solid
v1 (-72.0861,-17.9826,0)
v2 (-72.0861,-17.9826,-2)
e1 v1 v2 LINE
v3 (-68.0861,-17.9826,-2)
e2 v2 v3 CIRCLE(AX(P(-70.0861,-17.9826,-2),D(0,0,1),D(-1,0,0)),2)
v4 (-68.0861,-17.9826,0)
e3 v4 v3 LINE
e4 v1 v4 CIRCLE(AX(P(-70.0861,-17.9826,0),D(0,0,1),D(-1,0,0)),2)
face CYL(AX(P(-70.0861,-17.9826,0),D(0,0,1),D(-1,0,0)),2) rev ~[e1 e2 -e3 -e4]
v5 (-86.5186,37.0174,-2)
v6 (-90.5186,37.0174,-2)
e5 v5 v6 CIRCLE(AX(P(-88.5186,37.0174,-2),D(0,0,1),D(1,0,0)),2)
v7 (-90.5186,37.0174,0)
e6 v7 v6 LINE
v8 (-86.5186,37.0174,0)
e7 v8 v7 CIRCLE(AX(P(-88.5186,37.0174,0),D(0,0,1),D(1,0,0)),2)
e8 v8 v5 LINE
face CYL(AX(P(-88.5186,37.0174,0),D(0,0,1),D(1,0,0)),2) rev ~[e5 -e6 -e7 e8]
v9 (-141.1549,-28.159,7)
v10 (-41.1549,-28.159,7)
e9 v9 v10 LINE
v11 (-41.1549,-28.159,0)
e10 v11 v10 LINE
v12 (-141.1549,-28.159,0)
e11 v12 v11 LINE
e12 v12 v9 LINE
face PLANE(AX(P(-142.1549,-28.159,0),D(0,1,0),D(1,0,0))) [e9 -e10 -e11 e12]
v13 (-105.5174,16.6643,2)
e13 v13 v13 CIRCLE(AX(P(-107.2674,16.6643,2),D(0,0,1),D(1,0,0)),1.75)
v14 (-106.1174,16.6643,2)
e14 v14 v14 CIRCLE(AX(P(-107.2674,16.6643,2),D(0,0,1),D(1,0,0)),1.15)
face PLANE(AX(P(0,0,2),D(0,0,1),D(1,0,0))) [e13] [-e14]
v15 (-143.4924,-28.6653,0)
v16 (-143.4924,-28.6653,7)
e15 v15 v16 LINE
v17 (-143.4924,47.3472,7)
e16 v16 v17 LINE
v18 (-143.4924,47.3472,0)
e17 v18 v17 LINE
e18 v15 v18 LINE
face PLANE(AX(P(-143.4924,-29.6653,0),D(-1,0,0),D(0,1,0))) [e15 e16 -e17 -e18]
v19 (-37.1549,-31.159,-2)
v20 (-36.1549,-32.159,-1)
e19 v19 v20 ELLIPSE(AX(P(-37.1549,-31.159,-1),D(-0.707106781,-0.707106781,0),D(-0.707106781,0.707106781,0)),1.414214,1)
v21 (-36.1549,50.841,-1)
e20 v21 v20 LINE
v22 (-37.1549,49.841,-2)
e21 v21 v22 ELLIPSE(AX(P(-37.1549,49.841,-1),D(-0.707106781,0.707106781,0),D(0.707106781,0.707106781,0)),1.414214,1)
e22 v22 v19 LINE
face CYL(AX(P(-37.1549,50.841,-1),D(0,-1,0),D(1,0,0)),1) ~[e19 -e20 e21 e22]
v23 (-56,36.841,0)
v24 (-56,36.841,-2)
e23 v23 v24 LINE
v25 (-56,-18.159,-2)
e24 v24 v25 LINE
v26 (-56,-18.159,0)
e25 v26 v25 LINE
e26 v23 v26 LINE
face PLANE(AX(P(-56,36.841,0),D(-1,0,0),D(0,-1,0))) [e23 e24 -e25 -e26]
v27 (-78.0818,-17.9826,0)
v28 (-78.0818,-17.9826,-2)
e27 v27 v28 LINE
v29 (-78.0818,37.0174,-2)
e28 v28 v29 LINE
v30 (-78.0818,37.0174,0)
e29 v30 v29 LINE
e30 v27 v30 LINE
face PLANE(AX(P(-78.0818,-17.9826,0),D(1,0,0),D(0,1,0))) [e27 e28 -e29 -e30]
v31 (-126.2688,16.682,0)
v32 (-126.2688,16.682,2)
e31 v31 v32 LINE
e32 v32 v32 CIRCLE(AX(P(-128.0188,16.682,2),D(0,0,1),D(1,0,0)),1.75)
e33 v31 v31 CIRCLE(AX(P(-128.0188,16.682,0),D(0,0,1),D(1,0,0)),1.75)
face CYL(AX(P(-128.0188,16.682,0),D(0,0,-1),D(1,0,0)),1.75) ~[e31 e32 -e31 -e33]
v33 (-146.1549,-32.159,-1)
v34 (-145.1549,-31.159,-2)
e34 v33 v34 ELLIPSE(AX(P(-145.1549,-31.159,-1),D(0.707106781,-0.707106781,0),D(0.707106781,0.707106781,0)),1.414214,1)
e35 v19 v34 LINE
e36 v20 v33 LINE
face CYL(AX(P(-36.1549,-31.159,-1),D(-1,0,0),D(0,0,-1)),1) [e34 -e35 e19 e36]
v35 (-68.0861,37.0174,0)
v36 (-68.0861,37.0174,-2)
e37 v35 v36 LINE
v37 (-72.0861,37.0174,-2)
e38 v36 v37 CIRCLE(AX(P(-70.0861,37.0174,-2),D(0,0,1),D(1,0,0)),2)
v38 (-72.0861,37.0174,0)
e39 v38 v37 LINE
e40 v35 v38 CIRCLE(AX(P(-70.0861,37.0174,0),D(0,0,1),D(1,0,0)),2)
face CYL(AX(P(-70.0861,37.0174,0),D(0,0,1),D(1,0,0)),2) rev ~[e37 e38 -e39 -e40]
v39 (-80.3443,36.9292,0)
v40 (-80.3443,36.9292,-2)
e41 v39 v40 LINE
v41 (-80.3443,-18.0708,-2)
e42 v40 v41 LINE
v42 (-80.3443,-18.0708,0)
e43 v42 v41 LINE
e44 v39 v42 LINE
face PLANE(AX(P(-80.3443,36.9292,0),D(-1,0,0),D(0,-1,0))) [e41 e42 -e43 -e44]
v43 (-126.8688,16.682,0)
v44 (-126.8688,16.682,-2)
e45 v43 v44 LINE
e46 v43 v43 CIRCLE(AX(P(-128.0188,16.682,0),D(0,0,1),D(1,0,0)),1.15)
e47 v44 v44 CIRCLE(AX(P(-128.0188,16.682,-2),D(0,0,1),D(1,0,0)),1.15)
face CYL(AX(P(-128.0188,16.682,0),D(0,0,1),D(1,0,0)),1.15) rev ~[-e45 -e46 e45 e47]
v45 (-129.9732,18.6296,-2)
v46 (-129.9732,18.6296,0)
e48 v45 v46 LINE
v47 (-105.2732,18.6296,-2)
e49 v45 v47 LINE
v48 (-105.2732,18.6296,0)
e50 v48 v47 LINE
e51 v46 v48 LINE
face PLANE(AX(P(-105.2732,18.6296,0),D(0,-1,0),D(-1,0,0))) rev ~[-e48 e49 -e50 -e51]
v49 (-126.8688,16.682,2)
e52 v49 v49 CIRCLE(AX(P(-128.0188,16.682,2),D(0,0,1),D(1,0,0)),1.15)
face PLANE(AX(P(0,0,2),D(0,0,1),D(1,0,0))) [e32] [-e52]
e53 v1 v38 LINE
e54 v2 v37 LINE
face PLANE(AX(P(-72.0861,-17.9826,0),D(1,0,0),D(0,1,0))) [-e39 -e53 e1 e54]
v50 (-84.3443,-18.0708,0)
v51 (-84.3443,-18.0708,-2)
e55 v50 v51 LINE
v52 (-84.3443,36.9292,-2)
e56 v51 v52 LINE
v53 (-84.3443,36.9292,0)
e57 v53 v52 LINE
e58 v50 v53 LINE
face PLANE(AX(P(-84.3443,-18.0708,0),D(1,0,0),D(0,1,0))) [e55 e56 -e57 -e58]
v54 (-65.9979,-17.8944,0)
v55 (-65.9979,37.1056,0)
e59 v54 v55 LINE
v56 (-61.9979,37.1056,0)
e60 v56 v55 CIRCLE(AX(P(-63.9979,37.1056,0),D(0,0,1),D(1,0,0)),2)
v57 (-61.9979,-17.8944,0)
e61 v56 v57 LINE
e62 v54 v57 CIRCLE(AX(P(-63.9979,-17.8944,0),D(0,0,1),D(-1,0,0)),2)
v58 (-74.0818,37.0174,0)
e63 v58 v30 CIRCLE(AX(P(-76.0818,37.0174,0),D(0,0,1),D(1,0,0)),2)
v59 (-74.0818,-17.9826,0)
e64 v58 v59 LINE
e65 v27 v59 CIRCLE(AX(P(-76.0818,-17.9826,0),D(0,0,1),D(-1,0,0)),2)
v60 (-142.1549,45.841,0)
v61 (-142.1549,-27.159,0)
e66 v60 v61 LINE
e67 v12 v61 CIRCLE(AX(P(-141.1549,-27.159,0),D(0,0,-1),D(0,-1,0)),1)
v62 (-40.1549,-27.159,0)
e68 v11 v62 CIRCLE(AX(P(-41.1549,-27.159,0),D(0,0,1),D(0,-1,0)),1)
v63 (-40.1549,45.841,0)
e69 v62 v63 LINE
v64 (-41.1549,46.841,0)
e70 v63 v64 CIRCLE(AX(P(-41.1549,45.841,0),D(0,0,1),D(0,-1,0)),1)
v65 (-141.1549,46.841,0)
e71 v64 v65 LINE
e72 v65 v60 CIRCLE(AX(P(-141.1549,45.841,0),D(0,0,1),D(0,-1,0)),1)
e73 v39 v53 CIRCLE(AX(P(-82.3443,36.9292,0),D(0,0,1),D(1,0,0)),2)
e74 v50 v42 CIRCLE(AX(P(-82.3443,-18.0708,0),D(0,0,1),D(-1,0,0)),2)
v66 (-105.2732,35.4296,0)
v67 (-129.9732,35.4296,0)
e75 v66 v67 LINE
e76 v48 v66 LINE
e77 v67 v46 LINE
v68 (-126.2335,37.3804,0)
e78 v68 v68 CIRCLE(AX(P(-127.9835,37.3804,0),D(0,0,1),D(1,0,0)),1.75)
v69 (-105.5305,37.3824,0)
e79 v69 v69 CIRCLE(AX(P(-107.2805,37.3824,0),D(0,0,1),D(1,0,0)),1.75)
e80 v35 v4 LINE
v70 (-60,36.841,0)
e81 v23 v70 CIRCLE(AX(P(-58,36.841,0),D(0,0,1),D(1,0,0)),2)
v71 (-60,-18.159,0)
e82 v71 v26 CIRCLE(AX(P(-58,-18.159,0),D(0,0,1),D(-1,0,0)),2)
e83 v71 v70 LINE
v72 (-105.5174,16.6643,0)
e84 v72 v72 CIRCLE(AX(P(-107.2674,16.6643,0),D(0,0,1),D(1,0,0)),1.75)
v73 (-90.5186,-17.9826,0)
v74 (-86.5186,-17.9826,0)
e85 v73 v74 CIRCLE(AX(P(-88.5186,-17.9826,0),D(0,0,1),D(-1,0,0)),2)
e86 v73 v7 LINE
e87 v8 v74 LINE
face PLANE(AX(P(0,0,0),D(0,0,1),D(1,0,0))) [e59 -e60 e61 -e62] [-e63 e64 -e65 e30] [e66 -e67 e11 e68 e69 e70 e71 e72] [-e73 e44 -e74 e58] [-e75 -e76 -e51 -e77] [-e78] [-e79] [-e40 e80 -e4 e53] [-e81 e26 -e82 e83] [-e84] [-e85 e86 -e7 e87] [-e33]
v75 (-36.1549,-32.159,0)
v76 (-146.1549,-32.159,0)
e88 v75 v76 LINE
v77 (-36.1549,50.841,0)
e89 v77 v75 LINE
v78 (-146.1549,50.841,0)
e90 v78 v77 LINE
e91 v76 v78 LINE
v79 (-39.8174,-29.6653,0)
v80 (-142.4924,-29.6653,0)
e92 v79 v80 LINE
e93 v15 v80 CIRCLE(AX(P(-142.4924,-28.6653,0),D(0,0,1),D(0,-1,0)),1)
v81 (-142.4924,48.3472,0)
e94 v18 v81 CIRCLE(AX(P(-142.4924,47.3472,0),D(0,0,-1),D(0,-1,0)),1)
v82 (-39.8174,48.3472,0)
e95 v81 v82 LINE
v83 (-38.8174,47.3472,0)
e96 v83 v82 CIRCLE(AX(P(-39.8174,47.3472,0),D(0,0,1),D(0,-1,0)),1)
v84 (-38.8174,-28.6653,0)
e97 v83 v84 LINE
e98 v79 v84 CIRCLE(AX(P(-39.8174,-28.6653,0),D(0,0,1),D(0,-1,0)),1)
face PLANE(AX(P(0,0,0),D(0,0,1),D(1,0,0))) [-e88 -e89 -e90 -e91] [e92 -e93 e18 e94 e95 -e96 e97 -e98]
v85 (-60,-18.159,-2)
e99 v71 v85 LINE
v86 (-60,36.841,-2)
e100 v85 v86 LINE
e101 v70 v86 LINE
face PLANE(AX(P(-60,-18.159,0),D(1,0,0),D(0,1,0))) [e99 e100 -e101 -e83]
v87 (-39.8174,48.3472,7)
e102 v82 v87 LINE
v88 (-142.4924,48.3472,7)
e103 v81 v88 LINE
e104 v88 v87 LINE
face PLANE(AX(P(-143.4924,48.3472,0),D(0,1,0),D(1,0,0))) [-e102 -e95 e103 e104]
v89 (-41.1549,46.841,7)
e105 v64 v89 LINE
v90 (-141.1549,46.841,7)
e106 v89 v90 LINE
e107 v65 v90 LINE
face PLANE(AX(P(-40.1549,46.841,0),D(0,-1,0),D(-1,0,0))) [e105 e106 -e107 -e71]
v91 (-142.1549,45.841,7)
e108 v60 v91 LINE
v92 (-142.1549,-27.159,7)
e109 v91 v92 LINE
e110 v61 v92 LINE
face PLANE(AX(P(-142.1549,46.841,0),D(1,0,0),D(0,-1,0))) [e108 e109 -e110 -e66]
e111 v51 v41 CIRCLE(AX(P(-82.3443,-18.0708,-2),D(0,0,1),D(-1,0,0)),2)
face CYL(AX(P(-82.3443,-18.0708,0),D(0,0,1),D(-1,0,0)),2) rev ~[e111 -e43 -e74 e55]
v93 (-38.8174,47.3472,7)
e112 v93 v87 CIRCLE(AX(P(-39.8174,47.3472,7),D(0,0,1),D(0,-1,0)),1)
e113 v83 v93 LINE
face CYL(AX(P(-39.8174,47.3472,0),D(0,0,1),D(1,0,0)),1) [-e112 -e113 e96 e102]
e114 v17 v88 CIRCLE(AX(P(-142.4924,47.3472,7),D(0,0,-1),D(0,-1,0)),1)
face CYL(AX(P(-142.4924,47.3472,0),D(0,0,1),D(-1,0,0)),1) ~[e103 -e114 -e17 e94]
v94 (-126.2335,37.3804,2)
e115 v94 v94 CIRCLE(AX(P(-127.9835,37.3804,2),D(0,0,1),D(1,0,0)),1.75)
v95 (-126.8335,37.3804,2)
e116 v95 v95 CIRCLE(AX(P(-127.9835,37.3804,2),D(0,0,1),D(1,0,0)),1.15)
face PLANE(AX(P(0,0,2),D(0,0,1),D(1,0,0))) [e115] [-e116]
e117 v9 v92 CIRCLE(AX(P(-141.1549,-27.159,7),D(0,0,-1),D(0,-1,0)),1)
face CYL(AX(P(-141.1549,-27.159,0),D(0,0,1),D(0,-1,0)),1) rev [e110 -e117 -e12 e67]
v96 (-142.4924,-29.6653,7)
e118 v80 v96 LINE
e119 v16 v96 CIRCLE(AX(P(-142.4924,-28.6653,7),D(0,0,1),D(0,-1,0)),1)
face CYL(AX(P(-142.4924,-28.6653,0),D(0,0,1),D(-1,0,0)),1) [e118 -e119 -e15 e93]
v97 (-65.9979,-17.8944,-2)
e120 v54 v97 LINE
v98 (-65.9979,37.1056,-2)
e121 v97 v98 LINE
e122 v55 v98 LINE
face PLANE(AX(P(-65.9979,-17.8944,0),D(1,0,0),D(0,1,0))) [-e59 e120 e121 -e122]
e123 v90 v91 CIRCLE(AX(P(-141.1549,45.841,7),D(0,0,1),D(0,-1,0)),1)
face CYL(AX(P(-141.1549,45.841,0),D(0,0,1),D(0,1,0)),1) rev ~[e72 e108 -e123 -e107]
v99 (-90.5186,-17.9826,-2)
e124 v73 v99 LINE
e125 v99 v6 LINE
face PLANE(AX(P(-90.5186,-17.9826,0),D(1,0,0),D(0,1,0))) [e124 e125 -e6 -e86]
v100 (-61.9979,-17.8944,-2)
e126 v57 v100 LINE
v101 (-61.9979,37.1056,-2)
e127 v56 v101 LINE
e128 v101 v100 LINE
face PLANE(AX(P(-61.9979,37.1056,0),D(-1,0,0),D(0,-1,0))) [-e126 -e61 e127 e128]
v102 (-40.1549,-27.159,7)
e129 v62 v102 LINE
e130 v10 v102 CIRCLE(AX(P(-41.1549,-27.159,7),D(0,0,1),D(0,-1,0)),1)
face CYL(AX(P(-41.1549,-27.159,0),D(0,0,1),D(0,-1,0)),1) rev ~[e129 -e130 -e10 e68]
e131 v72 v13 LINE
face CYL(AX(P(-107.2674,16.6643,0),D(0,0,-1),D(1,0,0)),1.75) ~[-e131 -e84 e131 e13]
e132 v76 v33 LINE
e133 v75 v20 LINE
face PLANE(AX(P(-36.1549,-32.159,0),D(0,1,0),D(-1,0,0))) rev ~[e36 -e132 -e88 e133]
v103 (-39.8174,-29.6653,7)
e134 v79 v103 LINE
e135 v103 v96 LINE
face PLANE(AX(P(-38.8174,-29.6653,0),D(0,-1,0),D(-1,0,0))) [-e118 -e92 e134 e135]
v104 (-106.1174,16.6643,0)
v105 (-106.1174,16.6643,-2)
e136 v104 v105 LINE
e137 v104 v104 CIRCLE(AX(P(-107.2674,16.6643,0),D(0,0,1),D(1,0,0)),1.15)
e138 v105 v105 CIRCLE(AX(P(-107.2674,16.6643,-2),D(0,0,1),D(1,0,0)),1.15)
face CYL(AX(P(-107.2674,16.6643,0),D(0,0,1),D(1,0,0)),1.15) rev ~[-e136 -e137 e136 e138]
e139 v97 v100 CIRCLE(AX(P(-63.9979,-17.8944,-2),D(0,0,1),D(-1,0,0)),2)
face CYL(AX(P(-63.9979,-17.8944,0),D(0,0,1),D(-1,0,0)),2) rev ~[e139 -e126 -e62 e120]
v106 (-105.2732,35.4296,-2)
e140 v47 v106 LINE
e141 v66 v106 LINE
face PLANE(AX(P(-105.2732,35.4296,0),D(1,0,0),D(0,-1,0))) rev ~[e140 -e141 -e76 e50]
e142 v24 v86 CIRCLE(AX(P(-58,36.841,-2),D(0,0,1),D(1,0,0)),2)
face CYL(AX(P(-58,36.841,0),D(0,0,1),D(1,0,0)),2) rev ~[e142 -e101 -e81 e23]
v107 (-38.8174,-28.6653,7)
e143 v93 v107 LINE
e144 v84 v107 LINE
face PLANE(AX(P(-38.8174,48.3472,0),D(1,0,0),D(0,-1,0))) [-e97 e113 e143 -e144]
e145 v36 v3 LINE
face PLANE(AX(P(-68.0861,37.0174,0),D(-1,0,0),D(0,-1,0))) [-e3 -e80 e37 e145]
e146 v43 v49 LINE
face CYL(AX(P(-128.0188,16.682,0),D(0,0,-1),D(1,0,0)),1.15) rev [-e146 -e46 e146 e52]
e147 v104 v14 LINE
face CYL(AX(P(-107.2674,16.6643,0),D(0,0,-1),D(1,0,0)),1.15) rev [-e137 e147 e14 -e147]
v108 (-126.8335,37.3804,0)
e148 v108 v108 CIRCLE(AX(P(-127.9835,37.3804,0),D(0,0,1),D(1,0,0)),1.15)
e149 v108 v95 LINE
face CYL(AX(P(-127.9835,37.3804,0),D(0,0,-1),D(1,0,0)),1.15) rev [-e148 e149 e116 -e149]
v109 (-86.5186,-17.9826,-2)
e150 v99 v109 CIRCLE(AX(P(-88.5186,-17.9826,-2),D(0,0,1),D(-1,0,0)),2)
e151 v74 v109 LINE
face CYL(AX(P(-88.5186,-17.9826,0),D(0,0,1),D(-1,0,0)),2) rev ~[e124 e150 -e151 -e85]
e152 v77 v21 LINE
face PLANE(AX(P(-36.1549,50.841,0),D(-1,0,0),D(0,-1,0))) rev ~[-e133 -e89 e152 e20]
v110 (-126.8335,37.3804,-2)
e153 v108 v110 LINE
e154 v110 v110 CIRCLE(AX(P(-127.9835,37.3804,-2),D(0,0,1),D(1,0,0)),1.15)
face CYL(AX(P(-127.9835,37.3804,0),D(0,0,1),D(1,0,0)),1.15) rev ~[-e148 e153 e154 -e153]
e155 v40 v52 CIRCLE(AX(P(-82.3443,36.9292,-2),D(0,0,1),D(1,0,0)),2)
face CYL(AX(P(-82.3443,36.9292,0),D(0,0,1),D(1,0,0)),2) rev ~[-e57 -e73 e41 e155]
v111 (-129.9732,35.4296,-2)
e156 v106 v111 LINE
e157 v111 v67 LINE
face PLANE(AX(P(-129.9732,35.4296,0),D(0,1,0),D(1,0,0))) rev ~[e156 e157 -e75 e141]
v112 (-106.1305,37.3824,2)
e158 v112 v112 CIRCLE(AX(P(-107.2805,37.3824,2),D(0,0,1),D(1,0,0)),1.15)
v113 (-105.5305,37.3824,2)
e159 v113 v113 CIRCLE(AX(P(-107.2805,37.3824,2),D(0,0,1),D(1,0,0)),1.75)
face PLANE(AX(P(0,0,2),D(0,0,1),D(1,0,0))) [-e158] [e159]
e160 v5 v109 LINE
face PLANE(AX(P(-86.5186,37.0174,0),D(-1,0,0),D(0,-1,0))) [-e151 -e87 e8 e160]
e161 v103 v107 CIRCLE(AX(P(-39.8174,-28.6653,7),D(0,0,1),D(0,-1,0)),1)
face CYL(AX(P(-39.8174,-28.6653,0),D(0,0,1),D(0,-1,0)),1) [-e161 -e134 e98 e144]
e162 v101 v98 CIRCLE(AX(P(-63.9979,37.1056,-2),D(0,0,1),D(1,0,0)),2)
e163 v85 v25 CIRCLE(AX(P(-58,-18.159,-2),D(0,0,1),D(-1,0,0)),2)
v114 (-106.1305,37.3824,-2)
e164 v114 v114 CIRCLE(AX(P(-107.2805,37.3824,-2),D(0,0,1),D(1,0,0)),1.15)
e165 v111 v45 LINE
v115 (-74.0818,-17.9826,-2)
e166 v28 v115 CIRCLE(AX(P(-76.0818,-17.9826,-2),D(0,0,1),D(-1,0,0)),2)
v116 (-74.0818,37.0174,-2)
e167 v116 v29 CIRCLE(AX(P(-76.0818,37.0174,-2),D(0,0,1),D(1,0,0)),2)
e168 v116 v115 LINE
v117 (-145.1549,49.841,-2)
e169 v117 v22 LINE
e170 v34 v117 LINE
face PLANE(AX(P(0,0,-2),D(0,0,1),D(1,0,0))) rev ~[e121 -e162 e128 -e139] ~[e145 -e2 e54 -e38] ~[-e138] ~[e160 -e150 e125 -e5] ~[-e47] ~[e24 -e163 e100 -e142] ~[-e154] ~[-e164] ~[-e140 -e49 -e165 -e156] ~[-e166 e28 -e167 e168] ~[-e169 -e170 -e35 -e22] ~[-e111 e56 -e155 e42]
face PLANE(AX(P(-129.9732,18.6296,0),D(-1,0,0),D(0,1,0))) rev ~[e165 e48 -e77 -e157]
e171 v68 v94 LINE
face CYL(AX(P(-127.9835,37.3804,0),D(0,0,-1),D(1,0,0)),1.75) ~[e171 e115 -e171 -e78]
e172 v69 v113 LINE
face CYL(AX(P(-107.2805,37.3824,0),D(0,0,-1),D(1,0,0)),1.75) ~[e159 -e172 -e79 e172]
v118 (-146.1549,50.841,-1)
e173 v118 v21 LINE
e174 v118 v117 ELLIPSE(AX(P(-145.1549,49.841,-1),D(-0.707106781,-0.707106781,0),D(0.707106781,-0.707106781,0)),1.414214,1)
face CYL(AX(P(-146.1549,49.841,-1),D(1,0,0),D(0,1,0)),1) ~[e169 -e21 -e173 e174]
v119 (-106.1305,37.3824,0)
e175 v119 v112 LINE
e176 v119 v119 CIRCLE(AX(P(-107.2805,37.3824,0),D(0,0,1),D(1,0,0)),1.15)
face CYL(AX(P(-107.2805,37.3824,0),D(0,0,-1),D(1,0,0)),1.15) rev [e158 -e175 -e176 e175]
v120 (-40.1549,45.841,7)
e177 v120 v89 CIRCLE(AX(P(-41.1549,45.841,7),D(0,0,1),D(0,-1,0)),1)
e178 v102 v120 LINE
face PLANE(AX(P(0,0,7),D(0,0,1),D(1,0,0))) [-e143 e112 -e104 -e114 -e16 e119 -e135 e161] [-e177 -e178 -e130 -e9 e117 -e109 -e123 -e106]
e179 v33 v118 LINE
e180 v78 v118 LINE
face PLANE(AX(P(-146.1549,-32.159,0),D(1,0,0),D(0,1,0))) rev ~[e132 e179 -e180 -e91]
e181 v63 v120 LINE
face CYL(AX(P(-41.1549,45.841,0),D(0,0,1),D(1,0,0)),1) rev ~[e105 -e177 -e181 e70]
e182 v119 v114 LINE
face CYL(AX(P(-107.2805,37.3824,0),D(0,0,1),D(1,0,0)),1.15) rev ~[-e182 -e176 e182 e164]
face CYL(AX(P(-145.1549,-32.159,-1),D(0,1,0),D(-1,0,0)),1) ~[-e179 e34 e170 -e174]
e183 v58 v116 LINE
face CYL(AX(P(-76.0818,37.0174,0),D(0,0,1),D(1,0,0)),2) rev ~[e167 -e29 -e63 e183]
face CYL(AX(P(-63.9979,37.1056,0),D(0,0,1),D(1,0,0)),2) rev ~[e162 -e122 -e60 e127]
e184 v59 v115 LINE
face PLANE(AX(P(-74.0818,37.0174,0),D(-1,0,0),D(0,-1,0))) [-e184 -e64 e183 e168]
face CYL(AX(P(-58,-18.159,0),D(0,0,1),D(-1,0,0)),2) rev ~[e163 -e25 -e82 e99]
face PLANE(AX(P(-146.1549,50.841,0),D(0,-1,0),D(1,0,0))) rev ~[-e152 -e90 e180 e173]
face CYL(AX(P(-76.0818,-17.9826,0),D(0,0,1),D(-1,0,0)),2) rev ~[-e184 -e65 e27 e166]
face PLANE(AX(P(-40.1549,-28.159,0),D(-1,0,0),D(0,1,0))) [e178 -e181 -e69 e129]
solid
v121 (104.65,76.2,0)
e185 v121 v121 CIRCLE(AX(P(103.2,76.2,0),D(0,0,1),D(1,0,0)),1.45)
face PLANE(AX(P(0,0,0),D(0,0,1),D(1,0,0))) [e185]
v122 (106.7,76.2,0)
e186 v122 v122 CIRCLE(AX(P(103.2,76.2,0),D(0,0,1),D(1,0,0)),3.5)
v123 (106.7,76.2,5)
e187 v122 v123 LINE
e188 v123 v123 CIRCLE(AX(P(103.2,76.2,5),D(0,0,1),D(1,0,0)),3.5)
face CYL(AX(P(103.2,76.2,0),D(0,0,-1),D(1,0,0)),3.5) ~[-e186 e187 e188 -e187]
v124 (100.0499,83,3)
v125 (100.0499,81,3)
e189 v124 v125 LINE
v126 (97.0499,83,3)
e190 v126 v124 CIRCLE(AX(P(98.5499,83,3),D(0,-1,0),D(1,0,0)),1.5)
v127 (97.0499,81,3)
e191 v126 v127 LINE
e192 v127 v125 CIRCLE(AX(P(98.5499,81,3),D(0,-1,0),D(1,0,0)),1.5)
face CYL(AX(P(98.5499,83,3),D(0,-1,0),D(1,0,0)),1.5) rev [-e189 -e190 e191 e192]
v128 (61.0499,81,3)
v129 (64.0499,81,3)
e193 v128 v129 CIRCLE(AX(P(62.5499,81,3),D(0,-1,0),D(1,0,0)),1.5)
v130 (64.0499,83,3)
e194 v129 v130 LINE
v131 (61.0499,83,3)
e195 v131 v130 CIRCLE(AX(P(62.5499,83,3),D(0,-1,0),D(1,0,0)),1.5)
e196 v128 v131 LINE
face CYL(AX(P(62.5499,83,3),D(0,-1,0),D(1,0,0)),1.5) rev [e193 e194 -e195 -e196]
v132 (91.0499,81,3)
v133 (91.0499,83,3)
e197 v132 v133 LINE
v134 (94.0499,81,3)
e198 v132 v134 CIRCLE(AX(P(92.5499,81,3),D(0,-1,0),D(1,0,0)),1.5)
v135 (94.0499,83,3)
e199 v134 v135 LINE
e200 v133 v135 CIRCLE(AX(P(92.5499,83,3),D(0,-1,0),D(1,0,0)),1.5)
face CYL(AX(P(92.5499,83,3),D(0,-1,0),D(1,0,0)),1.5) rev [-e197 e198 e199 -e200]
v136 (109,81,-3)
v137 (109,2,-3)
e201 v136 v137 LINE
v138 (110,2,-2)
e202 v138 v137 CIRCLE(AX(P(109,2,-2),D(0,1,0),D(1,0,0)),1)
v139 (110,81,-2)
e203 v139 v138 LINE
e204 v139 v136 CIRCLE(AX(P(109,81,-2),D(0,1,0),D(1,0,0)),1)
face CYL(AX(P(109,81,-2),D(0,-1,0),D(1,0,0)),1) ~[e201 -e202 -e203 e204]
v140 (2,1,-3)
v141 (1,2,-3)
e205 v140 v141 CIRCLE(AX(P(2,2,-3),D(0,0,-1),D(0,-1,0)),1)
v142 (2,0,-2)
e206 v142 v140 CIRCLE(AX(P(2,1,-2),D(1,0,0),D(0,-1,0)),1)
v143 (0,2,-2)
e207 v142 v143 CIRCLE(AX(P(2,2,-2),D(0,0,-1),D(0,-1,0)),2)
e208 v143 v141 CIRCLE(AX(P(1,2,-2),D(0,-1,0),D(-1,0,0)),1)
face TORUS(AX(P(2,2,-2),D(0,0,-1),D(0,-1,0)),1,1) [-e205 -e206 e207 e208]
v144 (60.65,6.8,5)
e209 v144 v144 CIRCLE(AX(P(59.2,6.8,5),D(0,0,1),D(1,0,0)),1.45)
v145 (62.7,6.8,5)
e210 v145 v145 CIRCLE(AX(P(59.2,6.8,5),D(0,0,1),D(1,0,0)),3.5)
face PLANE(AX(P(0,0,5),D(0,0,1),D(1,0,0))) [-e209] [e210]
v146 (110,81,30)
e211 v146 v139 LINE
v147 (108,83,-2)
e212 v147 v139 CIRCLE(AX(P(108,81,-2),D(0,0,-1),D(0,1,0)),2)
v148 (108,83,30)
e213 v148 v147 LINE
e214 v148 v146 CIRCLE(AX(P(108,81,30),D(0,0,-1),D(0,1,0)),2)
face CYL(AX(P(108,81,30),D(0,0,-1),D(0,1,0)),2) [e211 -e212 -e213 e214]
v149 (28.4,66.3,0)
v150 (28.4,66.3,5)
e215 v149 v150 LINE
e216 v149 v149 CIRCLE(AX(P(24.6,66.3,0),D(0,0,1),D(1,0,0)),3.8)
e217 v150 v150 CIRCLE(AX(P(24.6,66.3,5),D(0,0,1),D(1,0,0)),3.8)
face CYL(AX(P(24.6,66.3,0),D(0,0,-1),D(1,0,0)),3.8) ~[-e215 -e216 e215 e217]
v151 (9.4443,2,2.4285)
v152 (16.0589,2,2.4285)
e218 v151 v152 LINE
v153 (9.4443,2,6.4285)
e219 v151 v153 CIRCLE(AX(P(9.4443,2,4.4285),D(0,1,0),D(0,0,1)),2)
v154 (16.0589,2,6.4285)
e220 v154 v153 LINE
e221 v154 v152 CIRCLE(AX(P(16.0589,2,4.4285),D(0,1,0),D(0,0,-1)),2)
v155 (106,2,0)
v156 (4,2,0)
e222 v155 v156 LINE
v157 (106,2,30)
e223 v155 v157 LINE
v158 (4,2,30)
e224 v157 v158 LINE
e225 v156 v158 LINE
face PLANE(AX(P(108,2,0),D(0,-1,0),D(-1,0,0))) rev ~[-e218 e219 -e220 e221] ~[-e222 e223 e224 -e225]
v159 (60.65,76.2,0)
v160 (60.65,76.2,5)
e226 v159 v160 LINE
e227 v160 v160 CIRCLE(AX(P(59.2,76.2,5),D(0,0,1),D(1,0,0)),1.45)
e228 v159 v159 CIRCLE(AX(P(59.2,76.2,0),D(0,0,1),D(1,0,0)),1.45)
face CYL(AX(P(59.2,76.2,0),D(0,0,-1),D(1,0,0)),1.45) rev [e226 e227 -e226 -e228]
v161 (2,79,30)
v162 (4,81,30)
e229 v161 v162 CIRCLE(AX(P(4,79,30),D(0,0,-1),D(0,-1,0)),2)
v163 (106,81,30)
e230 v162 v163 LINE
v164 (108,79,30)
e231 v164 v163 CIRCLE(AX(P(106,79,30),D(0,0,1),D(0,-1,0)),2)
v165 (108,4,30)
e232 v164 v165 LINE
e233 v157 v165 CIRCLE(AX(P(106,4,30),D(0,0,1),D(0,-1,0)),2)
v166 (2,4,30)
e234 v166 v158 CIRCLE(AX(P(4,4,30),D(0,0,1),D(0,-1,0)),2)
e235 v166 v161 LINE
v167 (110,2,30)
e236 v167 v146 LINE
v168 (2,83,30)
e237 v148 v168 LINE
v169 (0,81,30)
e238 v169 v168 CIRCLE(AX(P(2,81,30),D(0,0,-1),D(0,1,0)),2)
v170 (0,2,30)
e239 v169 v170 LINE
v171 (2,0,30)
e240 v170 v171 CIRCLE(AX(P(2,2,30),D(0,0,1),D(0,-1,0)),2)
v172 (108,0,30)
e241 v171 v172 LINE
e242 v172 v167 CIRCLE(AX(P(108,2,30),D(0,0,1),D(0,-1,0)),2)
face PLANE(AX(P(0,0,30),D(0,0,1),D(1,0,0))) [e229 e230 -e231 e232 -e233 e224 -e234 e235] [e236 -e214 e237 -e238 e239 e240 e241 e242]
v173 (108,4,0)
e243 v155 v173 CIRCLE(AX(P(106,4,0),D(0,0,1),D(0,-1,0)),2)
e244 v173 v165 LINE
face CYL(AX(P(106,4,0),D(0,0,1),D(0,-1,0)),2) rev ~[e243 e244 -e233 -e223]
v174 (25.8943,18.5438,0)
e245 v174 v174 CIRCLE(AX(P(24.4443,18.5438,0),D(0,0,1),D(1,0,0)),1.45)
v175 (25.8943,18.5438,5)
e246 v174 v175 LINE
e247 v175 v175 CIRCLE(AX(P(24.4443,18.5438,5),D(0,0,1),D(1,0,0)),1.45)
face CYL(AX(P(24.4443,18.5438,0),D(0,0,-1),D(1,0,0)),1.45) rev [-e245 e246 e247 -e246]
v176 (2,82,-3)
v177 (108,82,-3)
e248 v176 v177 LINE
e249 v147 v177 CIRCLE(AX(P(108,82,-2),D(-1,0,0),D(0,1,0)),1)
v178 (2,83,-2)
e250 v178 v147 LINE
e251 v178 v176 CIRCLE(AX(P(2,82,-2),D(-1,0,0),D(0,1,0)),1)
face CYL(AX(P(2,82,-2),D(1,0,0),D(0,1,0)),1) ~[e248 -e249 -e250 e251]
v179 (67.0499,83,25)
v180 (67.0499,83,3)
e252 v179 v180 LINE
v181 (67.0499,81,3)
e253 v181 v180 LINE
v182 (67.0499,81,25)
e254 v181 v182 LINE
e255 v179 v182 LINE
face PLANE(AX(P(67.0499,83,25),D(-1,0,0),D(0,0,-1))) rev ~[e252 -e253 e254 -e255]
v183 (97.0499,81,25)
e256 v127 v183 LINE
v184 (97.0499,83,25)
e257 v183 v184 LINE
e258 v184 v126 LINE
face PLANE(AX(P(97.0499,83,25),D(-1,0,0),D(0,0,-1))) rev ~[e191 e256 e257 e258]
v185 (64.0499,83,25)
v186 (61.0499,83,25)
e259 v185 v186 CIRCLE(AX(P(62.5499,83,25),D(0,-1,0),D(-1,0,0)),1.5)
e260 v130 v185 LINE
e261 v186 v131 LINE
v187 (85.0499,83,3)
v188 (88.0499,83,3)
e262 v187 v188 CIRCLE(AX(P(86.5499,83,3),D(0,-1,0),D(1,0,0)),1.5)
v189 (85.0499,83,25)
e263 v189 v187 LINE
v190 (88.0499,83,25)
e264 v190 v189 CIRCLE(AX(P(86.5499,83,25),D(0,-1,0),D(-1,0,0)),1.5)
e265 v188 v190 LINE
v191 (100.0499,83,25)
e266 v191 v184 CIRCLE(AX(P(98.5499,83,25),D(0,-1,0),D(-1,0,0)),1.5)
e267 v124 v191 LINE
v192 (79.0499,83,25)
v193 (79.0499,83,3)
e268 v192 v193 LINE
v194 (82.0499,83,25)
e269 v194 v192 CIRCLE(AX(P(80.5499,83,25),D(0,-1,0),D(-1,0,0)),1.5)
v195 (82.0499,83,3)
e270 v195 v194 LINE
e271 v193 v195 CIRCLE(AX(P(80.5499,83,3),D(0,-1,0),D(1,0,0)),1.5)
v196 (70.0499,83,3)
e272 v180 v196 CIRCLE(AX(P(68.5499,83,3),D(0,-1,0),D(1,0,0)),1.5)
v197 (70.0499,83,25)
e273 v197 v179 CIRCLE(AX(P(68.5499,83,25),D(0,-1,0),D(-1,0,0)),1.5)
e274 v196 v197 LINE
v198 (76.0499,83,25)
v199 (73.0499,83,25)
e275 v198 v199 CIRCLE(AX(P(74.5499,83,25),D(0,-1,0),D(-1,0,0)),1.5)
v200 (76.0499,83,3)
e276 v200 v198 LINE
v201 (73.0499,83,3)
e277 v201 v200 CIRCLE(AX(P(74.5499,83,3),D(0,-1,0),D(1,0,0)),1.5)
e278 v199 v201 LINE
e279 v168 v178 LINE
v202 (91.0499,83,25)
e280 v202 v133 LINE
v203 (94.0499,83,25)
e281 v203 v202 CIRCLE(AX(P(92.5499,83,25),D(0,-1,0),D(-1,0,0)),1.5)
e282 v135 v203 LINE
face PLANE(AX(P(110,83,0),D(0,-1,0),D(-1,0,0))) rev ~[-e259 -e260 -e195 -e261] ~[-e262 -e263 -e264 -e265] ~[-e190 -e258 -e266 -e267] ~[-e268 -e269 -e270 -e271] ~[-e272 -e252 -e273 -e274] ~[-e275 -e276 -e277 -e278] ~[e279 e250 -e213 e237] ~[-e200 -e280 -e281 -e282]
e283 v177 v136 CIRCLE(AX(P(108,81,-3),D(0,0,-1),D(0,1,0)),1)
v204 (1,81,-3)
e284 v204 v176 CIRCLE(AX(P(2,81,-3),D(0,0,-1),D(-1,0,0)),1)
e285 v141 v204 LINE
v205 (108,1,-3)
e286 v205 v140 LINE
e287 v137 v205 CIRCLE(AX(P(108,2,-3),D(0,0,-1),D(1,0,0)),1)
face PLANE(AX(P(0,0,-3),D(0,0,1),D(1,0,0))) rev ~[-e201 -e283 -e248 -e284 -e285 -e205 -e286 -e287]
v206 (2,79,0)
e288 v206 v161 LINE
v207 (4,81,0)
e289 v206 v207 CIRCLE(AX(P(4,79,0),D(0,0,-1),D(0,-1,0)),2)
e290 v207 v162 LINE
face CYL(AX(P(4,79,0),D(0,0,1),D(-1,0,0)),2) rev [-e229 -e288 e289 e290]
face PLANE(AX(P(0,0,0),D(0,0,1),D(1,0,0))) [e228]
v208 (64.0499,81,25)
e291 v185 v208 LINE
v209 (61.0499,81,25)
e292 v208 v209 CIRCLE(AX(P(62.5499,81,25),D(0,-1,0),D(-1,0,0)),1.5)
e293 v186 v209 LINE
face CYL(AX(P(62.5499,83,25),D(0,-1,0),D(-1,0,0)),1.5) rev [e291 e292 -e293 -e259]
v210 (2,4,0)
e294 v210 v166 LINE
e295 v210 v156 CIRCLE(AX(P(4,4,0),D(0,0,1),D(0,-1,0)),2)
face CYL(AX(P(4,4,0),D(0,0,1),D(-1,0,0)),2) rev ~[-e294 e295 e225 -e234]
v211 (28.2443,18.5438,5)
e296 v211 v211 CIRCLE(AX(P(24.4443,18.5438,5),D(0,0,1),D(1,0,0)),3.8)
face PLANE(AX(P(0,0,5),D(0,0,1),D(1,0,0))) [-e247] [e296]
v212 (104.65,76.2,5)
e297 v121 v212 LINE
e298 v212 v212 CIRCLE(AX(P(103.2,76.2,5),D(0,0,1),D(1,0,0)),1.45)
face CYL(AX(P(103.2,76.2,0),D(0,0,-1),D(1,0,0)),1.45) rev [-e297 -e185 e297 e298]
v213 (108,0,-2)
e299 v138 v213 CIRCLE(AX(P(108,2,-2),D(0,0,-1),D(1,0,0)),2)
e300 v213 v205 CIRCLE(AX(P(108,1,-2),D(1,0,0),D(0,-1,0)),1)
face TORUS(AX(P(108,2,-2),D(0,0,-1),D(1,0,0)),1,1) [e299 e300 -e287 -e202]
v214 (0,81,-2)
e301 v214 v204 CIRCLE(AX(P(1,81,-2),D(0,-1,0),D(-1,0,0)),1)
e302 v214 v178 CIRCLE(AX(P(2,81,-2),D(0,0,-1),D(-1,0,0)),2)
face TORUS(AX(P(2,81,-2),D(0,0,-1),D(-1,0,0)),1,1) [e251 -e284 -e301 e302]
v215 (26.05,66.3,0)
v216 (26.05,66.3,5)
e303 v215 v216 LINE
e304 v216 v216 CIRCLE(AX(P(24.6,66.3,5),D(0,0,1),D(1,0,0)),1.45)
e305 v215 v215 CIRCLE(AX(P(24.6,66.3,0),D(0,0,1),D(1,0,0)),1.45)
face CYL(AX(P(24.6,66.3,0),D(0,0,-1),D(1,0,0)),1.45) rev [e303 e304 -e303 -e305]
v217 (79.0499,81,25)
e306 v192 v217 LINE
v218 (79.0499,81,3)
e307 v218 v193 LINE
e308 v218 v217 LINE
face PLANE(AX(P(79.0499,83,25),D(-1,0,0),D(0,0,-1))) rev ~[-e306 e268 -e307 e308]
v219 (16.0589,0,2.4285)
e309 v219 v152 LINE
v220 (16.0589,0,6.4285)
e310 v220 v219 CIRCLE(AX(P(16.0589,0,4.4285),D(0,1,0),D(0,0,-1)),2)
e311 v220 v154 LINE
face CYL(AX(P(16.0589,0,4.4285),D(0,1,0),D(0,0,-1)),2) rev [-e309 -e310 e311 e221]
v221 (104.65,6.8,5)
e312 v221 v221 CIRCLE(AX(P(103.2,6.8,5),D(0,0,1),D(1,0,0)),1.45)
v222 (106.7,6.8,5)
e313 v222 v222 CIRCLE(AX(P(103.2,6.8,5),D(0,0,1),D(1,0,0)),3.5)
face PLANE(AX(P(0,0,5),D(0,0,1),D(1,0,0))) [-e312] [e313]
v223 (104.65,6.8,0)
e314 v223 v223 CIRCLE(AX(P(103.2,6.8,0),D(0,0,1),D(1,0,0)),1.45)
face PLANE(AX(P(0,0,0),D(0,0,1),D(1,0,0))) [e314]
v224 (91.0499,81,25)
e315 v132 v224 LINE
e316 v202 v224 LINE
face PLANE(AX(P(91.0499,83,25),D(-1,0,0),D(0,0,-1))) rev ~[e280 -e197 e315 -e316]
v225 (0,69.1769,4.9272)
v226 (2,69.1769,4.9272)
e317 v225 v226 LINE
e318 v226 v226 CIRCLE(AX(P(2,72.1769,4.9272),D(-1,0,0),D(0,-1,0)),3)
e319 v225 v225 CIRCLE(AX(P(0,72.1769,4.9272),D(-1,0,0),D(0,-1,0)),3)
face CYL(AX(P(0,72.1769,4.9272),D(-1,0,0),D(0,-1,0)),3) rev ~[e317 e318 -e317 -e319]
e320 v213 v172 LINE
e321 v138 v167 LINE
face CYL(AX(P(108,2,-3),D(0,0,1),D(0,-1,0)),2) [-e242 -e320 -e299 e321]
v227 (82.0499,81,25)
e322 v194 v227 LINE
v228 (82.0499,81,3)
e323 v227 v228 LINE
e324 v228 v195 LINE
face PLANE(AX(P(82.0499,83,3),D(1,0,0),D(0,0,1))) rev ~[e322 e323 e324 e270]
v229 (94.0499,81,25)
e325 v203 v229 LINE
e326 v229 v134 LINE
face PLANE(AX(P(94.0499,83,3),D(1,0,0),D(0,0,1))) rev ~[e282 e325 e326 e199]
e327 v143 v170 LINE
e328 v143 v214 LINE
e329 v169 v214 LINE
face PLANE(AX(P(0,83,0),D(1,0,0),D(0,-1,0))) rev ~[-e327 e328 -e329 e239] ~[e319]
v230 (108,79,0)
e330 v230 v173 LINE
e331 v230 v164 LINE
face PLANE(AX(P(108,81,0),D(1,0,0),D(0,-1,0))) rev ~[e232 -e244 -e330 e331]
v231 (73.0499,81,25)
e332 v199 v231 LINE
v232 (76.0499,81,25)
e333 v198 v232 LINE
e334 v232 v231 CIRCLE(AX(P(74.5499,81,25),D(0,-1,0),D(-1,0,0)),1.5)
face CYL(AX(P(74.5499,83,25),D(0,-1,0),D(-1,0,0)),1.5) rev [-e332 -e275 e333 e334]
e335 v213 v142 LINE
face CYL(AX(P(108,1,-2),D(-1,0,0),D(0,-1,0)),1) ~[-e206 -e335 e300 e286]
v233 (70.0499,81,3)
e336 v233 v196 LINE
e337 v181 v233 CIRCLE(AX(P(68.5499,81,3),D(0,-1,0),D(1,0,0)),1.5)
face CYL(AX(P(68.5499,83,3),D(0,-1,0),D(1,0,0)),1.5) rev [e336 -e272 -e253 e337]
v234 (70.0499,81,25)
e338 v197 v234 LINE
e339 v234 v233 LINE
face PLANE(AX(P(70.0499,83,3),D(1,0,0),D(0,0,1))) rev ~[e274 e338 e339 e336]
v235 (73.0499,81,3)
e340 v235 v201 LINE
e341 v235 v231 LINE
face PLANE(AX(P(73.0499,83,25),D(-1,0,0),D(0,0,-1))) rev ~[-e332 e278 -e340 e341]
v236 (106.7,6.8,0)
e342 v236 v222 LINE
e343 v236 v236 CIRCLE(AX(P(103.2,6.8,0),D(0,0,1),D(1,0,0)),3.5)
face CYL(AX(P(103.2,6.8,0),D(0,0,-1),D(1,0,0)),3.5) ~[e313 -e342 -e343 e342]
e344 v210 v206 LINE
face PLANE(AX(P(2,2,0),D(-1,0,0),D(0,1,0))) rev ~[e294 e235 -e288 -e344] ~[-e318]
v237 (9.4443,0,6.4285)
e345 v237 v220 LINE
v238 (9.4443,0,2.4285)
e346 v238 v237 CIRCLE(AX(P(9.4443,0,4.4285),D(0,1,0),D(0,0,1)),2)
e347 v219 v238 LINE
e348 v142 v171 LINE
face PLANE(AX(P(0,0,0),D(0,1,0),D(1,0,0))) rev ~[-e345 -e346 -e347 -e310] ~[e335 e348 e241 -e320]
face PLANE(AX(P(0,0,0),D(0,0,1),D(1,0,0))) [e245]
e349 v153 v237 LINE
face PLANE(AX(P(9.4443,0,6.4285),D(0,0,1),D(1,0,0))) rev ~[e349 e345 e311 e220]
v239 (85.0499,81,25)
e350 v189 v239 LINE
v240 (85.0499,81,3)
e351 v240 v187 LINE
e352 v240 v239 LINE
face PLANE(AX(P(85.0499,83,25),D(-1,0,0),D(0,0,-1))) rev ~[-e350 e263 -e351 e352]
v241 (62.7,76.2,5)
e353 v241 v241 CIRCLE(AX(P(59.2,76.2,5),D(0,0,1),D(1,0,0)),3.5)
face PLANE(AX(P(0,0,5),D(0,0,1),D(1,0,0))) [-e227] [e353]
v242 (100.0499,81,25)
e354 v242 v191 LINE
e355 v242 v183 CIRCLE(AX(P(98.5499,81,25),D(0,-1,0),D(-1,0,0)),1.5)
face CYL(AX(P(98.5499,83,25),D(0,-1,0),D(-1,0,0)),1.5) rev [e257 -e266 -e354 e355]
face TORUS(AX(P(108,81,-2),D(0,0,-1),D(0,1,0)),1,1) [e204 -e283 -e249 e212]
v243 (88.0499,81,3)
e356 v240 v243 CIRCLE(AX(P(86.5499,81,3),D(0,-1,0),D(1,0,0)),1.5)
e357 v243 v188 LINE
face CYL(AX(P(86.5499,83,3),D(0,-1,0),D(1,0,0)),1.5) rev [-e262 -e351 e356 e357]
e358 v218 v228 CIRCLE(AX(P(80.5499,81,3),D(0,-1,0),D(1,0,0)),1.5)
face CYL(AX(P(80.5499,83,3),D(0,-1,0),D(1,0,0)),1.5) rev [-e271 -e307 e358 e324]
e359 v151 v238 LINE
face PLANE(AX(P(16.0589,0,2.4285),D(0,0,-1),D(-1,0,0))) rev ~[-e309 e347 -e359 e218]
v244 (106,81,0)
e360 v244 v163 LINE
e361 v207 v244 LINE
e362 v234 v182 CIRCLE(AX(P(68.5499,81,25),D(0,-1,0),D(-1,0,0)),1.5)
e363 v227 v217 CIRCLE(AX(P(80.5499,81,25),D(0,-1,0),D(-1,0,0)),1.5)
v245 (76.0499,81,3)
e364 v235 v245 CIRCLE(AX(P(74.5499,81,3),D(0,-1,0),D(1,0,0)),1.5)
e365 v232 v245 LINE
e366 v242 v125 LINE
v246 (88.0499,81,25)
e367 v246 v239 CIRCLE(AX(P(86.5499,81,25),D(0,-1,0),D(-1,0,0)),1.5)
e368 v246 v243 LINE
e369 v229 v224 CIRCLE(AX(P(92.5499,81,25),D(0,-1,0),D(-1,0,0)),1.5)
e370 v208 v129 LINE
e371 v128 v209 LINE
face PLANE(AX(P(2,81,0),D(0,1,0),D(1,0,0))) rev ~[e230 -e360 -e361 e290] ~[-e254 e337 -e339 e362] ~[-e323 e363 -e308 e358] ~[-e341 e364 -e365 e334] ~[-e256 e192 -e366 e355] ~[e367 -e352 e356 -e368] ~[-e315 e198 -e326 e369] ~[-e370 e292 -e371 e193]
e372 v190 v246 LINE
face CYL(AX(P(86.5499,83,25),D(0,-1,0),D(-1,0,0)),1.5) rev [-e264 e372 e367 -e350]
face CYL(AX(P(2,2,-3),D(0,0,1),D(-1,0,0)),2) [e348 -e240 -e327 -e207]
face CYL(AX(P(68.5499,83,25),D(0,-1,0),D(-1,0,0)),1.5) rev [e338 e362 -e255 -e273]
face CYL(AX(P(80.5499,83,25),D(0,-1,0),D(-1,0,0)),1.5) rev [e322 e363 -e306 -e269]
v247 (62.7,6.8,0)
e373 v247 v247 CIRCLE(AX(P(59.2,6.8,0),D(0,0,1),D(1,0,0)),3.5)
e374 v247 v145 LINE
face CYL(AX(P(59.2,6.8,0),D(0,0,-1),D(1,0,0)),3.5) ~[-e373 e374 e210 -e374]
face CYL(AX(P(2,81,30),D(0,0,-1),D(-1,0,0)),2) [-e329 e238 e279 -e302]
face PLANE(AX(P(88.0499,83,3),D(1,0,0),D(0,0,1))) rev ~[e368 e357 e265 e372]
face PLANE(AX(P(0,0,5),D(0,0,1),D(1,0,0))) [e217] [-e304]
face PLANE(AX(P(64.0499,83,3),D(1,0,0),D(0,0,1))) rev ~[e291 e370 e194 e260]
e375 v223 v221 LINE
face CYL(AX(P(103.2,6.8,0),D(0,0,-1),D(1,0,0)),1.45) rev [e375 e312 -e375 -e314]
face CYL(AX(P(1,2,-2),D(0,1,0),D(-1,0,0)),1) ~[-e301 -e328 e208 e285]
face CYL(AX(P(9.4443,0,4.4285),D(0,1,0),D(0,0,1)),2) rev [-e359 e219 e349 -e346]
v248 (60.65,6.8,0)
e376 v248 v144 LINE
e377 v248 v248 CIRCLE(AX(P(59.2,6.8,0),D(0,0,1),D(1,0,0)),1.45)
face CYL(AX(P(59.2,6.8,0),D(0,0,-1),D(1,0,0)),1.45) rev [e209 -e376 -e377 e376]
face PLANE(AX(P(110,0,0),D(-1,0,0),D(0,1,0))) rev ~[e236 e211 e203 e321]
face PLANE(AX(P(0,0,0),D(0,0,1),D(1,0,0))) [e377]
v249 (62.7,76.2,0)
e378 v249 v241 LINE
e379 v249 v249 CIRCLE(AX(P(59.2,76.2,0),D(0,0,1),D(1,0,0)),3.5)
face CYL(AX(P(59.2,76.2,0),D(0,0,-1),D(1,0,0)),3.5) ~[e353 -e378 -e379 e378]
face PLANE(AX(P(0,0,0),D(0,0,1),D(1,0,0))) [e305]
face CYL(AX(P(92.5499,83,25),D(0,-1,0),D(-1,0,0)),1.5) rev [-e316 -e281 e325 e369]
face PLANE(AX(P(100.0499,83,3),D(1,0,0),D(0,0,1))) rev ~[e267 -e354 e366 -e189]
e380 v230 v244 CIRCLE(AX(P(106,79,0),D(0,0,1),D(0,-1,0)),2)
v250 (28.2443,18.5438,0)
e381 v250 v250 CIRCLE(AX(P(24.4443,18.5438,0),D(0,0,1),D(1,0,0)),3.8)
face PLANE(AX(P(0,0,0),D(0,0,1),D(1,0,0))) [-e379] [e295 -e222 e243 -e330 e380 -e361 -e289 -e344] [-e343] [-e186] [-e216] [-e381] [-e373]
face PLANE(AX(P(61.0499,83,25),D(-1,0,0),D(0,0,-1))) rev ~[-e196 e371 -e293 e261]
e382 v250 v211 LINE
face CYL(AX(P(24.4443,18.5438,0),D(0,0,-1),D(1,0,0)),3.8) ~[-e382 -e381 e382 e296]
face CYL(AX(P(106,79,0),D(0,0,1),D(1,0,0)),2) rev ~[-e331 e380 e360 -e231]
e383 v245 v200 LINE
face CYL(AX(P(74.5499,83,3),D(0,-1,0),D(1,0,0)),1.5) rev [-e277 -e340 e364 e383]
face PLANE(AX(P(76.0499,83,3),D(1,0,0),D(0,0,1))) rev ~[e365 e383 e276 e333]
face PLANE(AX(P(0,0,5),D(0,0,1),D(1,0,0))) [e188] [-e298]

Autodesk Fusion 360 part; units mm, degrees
sketch "Sketch1" plane through (0, 0, 0) normal (0, 0, 1) x (1, 0, 0)
  line L0 (0, 0) -> (110, 0)
  line L1 (110, 0) -> (110, 83)
  line L2 (110, 83) -> (0, 83)
  line L3 (0, 83) -> (0, 0)
  circle A0 centre (24.6, 66.3) radius 1.45
  circle A1 centre (24.4443, 18.5438) radius 1.45
  circle A2 centre (59.2, 6.8) radius 1.45
  circle A3 centre (103.2, 6.8) radius 1.45
  circle A4 centre (103.2, 76.2) radius 1.45
  circle A5 centre (59.2, 76.2) radius 1.45
  line L4 (2, 81) -> (108, 81)
  line L5 (108, 81) -> (108, 2)
  line L6 (108, 2) -> (2, 2)
  line L7 (2, 2) -> (2, 81)
  circle A6 centre (24.6, 66.3) radius 3.8
  circle A7 centre (24.4443, 18.5438) radius 3.8
  circle A8 centre (59.2, 76.2) radius 3.5
  circle A9 centre (103.2, 76.2) radius 3.5
  circle A10 centre (59.2, 6.8) radius 3.5
  circle A11 centre (103.2, 6.8) radius 3.5
  dimension "d1" = 110
  dimension "d2" = 83
  dimension "d10" = 2.9
  dimension "d13" = 2.9
  dimension "d16" = 2.9
  dimension "d19" = 2.9
  dimension "d22" = 2.9
  dimension "d25" = 2.9
  dimension "d28" = 106
  dimension "d29" = 79
  dimension "d30" = 2
  dimension "d31" = 2
  dimension "d40" = 7.6
  dimension "d41" = 7.6
  dimension "d42" = 7
  dimension "d43" = 7
  dimension "d44" = 7
  dimension "d45" = 7
extrude "Extrude4" add sketch "Sketch1" against normal blind 3 contours L0 L1 L2 L3 | A0 | A1 | A2 | A3 | A4 | A5 | L4 L5 L6 L7 | A6 | A7 | A8 | A9 | A10 | A11 makes body 1
extrude "Extrude5" add sketch "Sketch1" along normal blind 5 contours A6 | A7 | A8 | A9 | A10 | A11 bodies 1
extrude "Extrude6" add sketch "Sketch1" along normal blind 30 contours L0 L1 L2 L3 bodies 1
fillet "Fillet2" radius 2 4 edges at (110, 0, 13.5) (110, 83, 13.5) (0, 83, 13.5) (0, 0, 13.5) on bodies 1
fillet "Fillet3" radius 2 4 edges at (2, 2, 15) (108, 2, 15) (108, 81, 15) (2, 81, 15) on bodies 1
fillet "Fillet4" radius 1 8 edges at (109.4142, 82.4142, -3) (110, 41.5, -3) (109.4142, 0.5858, -3) (55, 0, -3) (0.5858, 0.5858, -3) (0, 41.5, -3) (0.5858, 82.4142, -3) (55, 83, -3) on bodies 1
sketch "Sketch2" plane through (0, 83, 0) normal (0, 1, 0) x (-1, 0, 0)
  line L0 (-108, -2) -> (-2, -2)
  line L1 (-2, -2) -> (-2, 30)
  line L2 (-2, 30) -> (-108, 30)
  line L3 (-108, 30) -> (-108, -2)
  line L4 (-97.0499, 25) -> (-97.0499, 3)
  line L5 (-100.0499, 3) -> (-100.0499, 25)
  arc A0 (-97.0499, 25) -> (-100.0499, 25) centre (-98.5499, 25) ccw
  arc A1 (-100.0499, 3) -> (-97.0499, 3) centre (-98.5499, 3) ccw
  line L6 (-94.0499, 3) -> (-94.0499, 25)
  line L7 (-91.0499, 25) -> (-91.0499, 3)
  arc A2 (-91.0499, 25) -> (-94.0499, 25) centre (-92.5499, 25) ccw
  arc A3 (-94.0499, 3) -> (-91.0499, 3) centre (-92.5499, 3) ccw
  line L8 (-88.0499, 3) -> (-88.0499, 25)
  line L9 (-85.0499, 25) -> (-85.0499, 3)
  arc A4 (-85.0499, 25) -> (-88.0499, 25) centre (-86.5499, 25) ccw
  arc A5 (-88.0499, 3) -> (-85.0499, 3) centre (-86.5499, 3) ccw
  line L10 (-82.0499, 3) -> (-82.0499, 25)
  line L11 (-79.0499, 25) -> (-79.0499, 3)
  arc A6 (-79.0499, 25) -> (-82.0499, 25) centre (-80.5499, 25) ccw
  arc A7 (-82.0499, 3) -> (-79.0499, 3) centre (-80.5499, 3) ccw
  line L12 (-76.0499, 3) -> (-76.0499, 25)
  line L13 (-73.0499, 25) -> (-73.0499, 3)
  arc A8 (-73.0499, 25) -> (-76.0499, 25) centre (-74.5499, 25) ccw
  arc A9 (-76.0499, 3) -> (-73.0499, 3) centre (-74.5499, 3) ccw
  line L14 (-70.0499, 3) -> (-70.0499, 25)
  line L15 (-67.0499, 25) -> (-67.0499, 3)
  arc A10 (-67.0499, 25) -> (-70.0499, 25) centre (-68.5499, 25) ccw
  arc A11 (-70.0499, 3) -> (-67.0499, 3) centre (-68.5499, 3) ccw
  line L16 (-64.0499, 3) -> (-64.0499, 25)
  line L17 (-61.0499, 25) -> (-61.0499, 3)
  arc A12 (-61.0499, 25) -> (-64.0499, 25) centre (-62.5499, 25) ccw
  arc A13 (-64.0499, 3) -> (-61.0499, 3) centre (-62.5499, 3) ccw
  dimension "d60" = 1.5
  dimension "d61" = 1.5
  dimension "d62" = 1.5
  dimension "d63" = 1.5
  dimension "d64" = 1.5
  dimension "d65" = 1.5
  dimension "d66" = 1.5
  dimension "d67" = 1.5
  dimension "d68" = 1.5
  dimension "d69" = 1.5
  dimension "d70" = 1.5
  dimension "d71" = 1.5
  dimension "d72" = 1.5
  dimension "d73" = 1.5
  dimension "d74" = 5
  dimension "d75" = 5
  dimension "d76" = 5
  dimension "d77" = 5
  dimension "d78" = 5
  dimension "d79" = 5
  dimension "d80" = 5
  dimension "d81" = 3
  dimension "d82" = 3
  dimension "d83" = 3
  dimension "d84" = 22
  dimension "d85" = 3
  dimension "d86" = 3
  dimension "d87" = 3
extrude "Extrude8" cut sketch "Sketch2" along normal mid plane 5.5 contours L4 L5 A0 A1 | L6 L7 A2 A3 | L8 L9 A4 A5 | L10 L11 A6 A7 | L12 L13 A8 A9 | L14 L15 A10 A11 | L16 L17 A12 A13 bodies 1
sketch "Sketch3" plane through (0, 0, 0) normal (0, 0, 1) x (1, 0, 0)
  line L0 (-146.1549, 50.841) -> (-36.1549, 50.841)
  line L1 (-36.1549, 50.841) -> (-36.1549, -32.159)
  line L2 (-36.1549, -32.159) -> (-146.1549, -32.159)
  line L3 (-146.1549, -32.159) -> (-146.1549, 50.841)
  line L4 (-143.4924, 48.3472) -> (-38.8174, 48.3472)
  line L5 (-38.8174, 48.3472) -> (-38.8174, -29.6653)
  line L6 (-38.8174, -29.6653) -> (-143.4924, -29.6653)
  line L7 (-143.4924, -29.6653) -> (-143.4924, 48.3472)
  line L8 (-142.1549, -28.159) -> (-40.1549, -28.159)
  line L9 (-40.1549, -28.159) -> (-40.1549, 46.841)
  line L10 (-40.1549, 46.841) -> (-142.1549, 46.841)
  line L11 (-142.1549, 46.841) -> (-142.1549, -28.159)
  line L12 (-60, -18.159) -> (-60, 36.841)
  arc A0 (-60, -18.159) -> (-56, -18.159) centre (-58, -18.159) ccw
  line L13 (-56, 36.841) -> (-56, -18.159)
  line L14 (-60, -18.159) -> (-60, 36.841)
  arc A1 (-56, 36.841) -> (-60, 36.841) centre (-58, 36.841) ccw
  arc A2 (-60, -18.159) -> (-56, -18.159) centre (-58, -18.159) ccw
  line L15 (-56, 36.841) -> (-56, -18.159)
  arc A3 (-56, 36.841) -> (-60, 36.841) centre (-58, 36.841) ccw
  arc A4 (-72.0861, -17.9826) -> (-68.0861, -17.9826) centre (-70.0861, -17.9826) ccw
  line L16 (-68.0861, 37.0174) -> (-68.0861, -17.9826)
  line L17 (-72.0861, -17.9826) -> (-72.0861, 37.0174)
  arc A5 (-68.0861, 37.0174) -> (-72.0861, 37.0174) centre (-70.0861, 37.0174) ccw
  arc A6 (-65.9979, -17.8944) -> (-61.9979, -17.8944) centre (-63.9979, -17.8944) ccw
  line L18 (-61.9979, 37.1056) -> (-61.9979, -17.8944)
  line L19 (-65.9979, -17.8944) -> (-65.9979, 37.1056)
  arc A7 (-61.9979, 37.1056) -> (-65.9979, 37.1056) centre (-63.9979, 37.1056) ccw
  arc A8 (-78.0818, -17.9826) -> (-74.0818, -17.9826) centre (-76.0818, -17.9826) ccw
  line L20 (-74.0818, 37.0174) -> (-74.0818, -17.9826)
  line L21 (-78.0818, -17.9826) -> (-78.0818, 37.0174)
  arc A9 (-74.0818, 37.0174) -> (-78.0818, 37.0174) centre (-76.0818, 37.0174) ccw
  line L22 (-60, -18.159) -> (-60, 36.841)
  line L23 (-80.3443, 36.9292) -> (-80.3443, -18.0708)
  line L24 (-84.3443, -18.0708) -> (-84.3443, 36.9292)
  arc A10 (-84.3443, -18.0708) -> (-80.3443, -18.0708) centre (-82.3443, -18.0708) ccw
  arc A11 (-80.3443, 36.9292) -> (-84.3443, 36.9292) centre (-82.3443, 36.9292) ccw
  line L25 (-86.5186, 37.0174) -> (-86.5186, -17.9826)
  line L26 (-90.5186, -17.9826) -> (-90.5186, 37.0174)
  arc A12 (-90.5186, -17.9826) -> (-86.5186, -17.9826) centre (-88.5186, -17.9826) ccw
  arc A13 (-86.5186, 37.0174) -> (-90.5186, 37.0174) centre (-88.5186, 37.0174) ccw
  line L27 (-129.9732, 35.4296) -> (-105.2732, 35.4296)
  line L28 (-105.2732, 35.4296) -> (-105.2732, 18.6296)
  line L29 (-105.2732, 18.6296) -> (-129.9732, 18.6296)
  line L30 (-129.9732, 18.6296) -> (-129.9732, 35.4296)
  circle A14 centre (-107.2805, 37.3824) radius 1.15
  circle A15 centre (-107.2805, 37.3824) radius 1.75
  circle A16 centre (-107.2805, 37.3824) radius 1.15
  circle A17 centre (-107.2805, 37.3824) radius 1.75
  circle A18 centre (-127.9835, 37.3804) radius 1.15
  circle A19 centre (-127.9835, 37.3804) radius 1.75
  circle A20 centre (-107.2674, 16.6643) radius 1.15
  circle A21 centre (-107.2674, 16.6643) radius 1.75
  circle A22 centre (-128.0188, 16.682) radius 1.15
  circle A23 centre (-128.0188, 16.682) radius 1.75
  point P0 (-105.2732, 35.4296)
  point P1 (-125.9338, 35.4571)
  point P2 (-105.0923, 15.0723)
  point P3 (-125.8437, 15.09)
  point P4 (-91.1549, 9.341)
  dimension "d92" = 110
  dimension "d93" = 83
  dimension "d98" = 102
  dimension "d99" = 75
  dimension "d106" = 2
  dimension "d107" = 2
  dimension "d108" = 2
  dimension "d109" = 2
  dimension "d110" = 2
  dimension "d111" = 2
  dimension "d112" = 2
  dimension "d121" = 24.7
  dimension "d122" = 16.8
  dimension "d135" = 2.3
  dimension "d136" = 3.5
  dimension "d137" = 2.3
  dimension "d138" = 3.5
  dimension "d139" = 2.3
  dimension "d140" = 3.5
  dimension "d141" = 2.3
  dimension "d142" = 3.5
  dimension "d143" = 2.3
  dimension "d144" = 3.5
extrude "Extrude9" add sketch "Sketch3" against normal blind 2 separate body contours L0 L1 L2 L3 | L4 L5 L6 L7 | L8 L9 L10 L11 | L27 L28 L29 L30 | A14 A16 | A15 A17 | A18 | A19 | A20 | A21 | A22 | A23 makes body 2
extrude "Extrude10" add sketch "Sketch3" along normal blind 7 contours L4 L5 L6 L7 bodies 2
fillet "Fillet5" radius 1 4 edges at (-91.1549, 50.841, -2) (-146.1549, 9.341, -2) (-91.1549, -32.159, -2) (-36.1549, 9.341, -2) on bodies 2
fillet "Fillet6" radius 1 4 edges at (-38.8174, -29.6653, 3.5) (-143.4924, -29.6653, 3.5) (-143.4924, 48.3472, 3.5) (-38.8174, 48.3472, 3.5) on bodies 2
extrude "Extrude11" cut sketch "Sketch3" along normal mid plane 6 contours L27 L28 L29 L30 bodies 2
sketch "Sketch4" plane through (0, 0, 0) normal (0, -1, 0) x (1, 0, 0)
  line L0 (2, -2) -> (108, -2)
  line L1 (108, -2) -> (108, 30)
  line L2 (108, 30) -> (2, 30)
  line L3 (2, 30) -> (2, -2)
  line L4 (9.4443, 6.4285) -> (16.0589, 6.4285)
  line L5 (16.0589, 2.4285) -> (9.4443, 2.4285)
  arc A0 (9.4443, 6.4285) -> (9.4443, 2.4285) centre (9.4443, 4.4285) ccw
  arc A1 (16.0589, 2.4285) -> (16.0589, 6.4285) centre (16.0589, 4.4285) ccw
  dimension "d127" = 2
extrude "Extrude12" cut sketch "Sketch4" along normal mid plane 6 contours L4 L5 A0 A1 bodies 1
sketch "Sketch5" plane through (0, 0, 0) normal (-1, 0, 0) x (0, -1, 0)
  line L0 (-81, -2) -> (-2, -2)
  line L1 (-2, -2) -> (-2, 30)
  line L2 (-2, 30) -> (-81, 30)
  line L3 (-81, 30) -> (-81, -2)
  circle A0 centre (-72.1769, 4.9272) radius 3
  dimension "d130" = 6
extrude "Extrude13" cut sketch "Sketch5" along normal mid plane 6 contours A0 bodies 1
fillet "Fillet7" radius 1 4 edges at (-40.1549, 46.841, 3.5) (-40.1549, -28.159, 3.5) (-142.1549, 46.841, 3.5) (-142.1549, -28.159, 3.5) on bodies 2
extrude "Extrude14" add sketch "Sketch3" along normal blind 2 contours A15 A17 | A19 | A21 | A23 bodies 2
extrude "Extrude15" cut 4 faces at (-127.8477, 37.7943, 0) (-106.9142, 37.2694, 0) (-107.4075, 17.3538, 0) (-127.9354, 17.0303, 0) along direction (0, 0, 1) mid plane 10 on bodies 2 bodies 2
extrude "Extrude7" [suppressed]
extrude "Extrude1" [suppressed]
extrude "Extrude2" [suppressed]
extrude "Extrude3" [suppressed]
fillet "Fillet1" [suppressed]
